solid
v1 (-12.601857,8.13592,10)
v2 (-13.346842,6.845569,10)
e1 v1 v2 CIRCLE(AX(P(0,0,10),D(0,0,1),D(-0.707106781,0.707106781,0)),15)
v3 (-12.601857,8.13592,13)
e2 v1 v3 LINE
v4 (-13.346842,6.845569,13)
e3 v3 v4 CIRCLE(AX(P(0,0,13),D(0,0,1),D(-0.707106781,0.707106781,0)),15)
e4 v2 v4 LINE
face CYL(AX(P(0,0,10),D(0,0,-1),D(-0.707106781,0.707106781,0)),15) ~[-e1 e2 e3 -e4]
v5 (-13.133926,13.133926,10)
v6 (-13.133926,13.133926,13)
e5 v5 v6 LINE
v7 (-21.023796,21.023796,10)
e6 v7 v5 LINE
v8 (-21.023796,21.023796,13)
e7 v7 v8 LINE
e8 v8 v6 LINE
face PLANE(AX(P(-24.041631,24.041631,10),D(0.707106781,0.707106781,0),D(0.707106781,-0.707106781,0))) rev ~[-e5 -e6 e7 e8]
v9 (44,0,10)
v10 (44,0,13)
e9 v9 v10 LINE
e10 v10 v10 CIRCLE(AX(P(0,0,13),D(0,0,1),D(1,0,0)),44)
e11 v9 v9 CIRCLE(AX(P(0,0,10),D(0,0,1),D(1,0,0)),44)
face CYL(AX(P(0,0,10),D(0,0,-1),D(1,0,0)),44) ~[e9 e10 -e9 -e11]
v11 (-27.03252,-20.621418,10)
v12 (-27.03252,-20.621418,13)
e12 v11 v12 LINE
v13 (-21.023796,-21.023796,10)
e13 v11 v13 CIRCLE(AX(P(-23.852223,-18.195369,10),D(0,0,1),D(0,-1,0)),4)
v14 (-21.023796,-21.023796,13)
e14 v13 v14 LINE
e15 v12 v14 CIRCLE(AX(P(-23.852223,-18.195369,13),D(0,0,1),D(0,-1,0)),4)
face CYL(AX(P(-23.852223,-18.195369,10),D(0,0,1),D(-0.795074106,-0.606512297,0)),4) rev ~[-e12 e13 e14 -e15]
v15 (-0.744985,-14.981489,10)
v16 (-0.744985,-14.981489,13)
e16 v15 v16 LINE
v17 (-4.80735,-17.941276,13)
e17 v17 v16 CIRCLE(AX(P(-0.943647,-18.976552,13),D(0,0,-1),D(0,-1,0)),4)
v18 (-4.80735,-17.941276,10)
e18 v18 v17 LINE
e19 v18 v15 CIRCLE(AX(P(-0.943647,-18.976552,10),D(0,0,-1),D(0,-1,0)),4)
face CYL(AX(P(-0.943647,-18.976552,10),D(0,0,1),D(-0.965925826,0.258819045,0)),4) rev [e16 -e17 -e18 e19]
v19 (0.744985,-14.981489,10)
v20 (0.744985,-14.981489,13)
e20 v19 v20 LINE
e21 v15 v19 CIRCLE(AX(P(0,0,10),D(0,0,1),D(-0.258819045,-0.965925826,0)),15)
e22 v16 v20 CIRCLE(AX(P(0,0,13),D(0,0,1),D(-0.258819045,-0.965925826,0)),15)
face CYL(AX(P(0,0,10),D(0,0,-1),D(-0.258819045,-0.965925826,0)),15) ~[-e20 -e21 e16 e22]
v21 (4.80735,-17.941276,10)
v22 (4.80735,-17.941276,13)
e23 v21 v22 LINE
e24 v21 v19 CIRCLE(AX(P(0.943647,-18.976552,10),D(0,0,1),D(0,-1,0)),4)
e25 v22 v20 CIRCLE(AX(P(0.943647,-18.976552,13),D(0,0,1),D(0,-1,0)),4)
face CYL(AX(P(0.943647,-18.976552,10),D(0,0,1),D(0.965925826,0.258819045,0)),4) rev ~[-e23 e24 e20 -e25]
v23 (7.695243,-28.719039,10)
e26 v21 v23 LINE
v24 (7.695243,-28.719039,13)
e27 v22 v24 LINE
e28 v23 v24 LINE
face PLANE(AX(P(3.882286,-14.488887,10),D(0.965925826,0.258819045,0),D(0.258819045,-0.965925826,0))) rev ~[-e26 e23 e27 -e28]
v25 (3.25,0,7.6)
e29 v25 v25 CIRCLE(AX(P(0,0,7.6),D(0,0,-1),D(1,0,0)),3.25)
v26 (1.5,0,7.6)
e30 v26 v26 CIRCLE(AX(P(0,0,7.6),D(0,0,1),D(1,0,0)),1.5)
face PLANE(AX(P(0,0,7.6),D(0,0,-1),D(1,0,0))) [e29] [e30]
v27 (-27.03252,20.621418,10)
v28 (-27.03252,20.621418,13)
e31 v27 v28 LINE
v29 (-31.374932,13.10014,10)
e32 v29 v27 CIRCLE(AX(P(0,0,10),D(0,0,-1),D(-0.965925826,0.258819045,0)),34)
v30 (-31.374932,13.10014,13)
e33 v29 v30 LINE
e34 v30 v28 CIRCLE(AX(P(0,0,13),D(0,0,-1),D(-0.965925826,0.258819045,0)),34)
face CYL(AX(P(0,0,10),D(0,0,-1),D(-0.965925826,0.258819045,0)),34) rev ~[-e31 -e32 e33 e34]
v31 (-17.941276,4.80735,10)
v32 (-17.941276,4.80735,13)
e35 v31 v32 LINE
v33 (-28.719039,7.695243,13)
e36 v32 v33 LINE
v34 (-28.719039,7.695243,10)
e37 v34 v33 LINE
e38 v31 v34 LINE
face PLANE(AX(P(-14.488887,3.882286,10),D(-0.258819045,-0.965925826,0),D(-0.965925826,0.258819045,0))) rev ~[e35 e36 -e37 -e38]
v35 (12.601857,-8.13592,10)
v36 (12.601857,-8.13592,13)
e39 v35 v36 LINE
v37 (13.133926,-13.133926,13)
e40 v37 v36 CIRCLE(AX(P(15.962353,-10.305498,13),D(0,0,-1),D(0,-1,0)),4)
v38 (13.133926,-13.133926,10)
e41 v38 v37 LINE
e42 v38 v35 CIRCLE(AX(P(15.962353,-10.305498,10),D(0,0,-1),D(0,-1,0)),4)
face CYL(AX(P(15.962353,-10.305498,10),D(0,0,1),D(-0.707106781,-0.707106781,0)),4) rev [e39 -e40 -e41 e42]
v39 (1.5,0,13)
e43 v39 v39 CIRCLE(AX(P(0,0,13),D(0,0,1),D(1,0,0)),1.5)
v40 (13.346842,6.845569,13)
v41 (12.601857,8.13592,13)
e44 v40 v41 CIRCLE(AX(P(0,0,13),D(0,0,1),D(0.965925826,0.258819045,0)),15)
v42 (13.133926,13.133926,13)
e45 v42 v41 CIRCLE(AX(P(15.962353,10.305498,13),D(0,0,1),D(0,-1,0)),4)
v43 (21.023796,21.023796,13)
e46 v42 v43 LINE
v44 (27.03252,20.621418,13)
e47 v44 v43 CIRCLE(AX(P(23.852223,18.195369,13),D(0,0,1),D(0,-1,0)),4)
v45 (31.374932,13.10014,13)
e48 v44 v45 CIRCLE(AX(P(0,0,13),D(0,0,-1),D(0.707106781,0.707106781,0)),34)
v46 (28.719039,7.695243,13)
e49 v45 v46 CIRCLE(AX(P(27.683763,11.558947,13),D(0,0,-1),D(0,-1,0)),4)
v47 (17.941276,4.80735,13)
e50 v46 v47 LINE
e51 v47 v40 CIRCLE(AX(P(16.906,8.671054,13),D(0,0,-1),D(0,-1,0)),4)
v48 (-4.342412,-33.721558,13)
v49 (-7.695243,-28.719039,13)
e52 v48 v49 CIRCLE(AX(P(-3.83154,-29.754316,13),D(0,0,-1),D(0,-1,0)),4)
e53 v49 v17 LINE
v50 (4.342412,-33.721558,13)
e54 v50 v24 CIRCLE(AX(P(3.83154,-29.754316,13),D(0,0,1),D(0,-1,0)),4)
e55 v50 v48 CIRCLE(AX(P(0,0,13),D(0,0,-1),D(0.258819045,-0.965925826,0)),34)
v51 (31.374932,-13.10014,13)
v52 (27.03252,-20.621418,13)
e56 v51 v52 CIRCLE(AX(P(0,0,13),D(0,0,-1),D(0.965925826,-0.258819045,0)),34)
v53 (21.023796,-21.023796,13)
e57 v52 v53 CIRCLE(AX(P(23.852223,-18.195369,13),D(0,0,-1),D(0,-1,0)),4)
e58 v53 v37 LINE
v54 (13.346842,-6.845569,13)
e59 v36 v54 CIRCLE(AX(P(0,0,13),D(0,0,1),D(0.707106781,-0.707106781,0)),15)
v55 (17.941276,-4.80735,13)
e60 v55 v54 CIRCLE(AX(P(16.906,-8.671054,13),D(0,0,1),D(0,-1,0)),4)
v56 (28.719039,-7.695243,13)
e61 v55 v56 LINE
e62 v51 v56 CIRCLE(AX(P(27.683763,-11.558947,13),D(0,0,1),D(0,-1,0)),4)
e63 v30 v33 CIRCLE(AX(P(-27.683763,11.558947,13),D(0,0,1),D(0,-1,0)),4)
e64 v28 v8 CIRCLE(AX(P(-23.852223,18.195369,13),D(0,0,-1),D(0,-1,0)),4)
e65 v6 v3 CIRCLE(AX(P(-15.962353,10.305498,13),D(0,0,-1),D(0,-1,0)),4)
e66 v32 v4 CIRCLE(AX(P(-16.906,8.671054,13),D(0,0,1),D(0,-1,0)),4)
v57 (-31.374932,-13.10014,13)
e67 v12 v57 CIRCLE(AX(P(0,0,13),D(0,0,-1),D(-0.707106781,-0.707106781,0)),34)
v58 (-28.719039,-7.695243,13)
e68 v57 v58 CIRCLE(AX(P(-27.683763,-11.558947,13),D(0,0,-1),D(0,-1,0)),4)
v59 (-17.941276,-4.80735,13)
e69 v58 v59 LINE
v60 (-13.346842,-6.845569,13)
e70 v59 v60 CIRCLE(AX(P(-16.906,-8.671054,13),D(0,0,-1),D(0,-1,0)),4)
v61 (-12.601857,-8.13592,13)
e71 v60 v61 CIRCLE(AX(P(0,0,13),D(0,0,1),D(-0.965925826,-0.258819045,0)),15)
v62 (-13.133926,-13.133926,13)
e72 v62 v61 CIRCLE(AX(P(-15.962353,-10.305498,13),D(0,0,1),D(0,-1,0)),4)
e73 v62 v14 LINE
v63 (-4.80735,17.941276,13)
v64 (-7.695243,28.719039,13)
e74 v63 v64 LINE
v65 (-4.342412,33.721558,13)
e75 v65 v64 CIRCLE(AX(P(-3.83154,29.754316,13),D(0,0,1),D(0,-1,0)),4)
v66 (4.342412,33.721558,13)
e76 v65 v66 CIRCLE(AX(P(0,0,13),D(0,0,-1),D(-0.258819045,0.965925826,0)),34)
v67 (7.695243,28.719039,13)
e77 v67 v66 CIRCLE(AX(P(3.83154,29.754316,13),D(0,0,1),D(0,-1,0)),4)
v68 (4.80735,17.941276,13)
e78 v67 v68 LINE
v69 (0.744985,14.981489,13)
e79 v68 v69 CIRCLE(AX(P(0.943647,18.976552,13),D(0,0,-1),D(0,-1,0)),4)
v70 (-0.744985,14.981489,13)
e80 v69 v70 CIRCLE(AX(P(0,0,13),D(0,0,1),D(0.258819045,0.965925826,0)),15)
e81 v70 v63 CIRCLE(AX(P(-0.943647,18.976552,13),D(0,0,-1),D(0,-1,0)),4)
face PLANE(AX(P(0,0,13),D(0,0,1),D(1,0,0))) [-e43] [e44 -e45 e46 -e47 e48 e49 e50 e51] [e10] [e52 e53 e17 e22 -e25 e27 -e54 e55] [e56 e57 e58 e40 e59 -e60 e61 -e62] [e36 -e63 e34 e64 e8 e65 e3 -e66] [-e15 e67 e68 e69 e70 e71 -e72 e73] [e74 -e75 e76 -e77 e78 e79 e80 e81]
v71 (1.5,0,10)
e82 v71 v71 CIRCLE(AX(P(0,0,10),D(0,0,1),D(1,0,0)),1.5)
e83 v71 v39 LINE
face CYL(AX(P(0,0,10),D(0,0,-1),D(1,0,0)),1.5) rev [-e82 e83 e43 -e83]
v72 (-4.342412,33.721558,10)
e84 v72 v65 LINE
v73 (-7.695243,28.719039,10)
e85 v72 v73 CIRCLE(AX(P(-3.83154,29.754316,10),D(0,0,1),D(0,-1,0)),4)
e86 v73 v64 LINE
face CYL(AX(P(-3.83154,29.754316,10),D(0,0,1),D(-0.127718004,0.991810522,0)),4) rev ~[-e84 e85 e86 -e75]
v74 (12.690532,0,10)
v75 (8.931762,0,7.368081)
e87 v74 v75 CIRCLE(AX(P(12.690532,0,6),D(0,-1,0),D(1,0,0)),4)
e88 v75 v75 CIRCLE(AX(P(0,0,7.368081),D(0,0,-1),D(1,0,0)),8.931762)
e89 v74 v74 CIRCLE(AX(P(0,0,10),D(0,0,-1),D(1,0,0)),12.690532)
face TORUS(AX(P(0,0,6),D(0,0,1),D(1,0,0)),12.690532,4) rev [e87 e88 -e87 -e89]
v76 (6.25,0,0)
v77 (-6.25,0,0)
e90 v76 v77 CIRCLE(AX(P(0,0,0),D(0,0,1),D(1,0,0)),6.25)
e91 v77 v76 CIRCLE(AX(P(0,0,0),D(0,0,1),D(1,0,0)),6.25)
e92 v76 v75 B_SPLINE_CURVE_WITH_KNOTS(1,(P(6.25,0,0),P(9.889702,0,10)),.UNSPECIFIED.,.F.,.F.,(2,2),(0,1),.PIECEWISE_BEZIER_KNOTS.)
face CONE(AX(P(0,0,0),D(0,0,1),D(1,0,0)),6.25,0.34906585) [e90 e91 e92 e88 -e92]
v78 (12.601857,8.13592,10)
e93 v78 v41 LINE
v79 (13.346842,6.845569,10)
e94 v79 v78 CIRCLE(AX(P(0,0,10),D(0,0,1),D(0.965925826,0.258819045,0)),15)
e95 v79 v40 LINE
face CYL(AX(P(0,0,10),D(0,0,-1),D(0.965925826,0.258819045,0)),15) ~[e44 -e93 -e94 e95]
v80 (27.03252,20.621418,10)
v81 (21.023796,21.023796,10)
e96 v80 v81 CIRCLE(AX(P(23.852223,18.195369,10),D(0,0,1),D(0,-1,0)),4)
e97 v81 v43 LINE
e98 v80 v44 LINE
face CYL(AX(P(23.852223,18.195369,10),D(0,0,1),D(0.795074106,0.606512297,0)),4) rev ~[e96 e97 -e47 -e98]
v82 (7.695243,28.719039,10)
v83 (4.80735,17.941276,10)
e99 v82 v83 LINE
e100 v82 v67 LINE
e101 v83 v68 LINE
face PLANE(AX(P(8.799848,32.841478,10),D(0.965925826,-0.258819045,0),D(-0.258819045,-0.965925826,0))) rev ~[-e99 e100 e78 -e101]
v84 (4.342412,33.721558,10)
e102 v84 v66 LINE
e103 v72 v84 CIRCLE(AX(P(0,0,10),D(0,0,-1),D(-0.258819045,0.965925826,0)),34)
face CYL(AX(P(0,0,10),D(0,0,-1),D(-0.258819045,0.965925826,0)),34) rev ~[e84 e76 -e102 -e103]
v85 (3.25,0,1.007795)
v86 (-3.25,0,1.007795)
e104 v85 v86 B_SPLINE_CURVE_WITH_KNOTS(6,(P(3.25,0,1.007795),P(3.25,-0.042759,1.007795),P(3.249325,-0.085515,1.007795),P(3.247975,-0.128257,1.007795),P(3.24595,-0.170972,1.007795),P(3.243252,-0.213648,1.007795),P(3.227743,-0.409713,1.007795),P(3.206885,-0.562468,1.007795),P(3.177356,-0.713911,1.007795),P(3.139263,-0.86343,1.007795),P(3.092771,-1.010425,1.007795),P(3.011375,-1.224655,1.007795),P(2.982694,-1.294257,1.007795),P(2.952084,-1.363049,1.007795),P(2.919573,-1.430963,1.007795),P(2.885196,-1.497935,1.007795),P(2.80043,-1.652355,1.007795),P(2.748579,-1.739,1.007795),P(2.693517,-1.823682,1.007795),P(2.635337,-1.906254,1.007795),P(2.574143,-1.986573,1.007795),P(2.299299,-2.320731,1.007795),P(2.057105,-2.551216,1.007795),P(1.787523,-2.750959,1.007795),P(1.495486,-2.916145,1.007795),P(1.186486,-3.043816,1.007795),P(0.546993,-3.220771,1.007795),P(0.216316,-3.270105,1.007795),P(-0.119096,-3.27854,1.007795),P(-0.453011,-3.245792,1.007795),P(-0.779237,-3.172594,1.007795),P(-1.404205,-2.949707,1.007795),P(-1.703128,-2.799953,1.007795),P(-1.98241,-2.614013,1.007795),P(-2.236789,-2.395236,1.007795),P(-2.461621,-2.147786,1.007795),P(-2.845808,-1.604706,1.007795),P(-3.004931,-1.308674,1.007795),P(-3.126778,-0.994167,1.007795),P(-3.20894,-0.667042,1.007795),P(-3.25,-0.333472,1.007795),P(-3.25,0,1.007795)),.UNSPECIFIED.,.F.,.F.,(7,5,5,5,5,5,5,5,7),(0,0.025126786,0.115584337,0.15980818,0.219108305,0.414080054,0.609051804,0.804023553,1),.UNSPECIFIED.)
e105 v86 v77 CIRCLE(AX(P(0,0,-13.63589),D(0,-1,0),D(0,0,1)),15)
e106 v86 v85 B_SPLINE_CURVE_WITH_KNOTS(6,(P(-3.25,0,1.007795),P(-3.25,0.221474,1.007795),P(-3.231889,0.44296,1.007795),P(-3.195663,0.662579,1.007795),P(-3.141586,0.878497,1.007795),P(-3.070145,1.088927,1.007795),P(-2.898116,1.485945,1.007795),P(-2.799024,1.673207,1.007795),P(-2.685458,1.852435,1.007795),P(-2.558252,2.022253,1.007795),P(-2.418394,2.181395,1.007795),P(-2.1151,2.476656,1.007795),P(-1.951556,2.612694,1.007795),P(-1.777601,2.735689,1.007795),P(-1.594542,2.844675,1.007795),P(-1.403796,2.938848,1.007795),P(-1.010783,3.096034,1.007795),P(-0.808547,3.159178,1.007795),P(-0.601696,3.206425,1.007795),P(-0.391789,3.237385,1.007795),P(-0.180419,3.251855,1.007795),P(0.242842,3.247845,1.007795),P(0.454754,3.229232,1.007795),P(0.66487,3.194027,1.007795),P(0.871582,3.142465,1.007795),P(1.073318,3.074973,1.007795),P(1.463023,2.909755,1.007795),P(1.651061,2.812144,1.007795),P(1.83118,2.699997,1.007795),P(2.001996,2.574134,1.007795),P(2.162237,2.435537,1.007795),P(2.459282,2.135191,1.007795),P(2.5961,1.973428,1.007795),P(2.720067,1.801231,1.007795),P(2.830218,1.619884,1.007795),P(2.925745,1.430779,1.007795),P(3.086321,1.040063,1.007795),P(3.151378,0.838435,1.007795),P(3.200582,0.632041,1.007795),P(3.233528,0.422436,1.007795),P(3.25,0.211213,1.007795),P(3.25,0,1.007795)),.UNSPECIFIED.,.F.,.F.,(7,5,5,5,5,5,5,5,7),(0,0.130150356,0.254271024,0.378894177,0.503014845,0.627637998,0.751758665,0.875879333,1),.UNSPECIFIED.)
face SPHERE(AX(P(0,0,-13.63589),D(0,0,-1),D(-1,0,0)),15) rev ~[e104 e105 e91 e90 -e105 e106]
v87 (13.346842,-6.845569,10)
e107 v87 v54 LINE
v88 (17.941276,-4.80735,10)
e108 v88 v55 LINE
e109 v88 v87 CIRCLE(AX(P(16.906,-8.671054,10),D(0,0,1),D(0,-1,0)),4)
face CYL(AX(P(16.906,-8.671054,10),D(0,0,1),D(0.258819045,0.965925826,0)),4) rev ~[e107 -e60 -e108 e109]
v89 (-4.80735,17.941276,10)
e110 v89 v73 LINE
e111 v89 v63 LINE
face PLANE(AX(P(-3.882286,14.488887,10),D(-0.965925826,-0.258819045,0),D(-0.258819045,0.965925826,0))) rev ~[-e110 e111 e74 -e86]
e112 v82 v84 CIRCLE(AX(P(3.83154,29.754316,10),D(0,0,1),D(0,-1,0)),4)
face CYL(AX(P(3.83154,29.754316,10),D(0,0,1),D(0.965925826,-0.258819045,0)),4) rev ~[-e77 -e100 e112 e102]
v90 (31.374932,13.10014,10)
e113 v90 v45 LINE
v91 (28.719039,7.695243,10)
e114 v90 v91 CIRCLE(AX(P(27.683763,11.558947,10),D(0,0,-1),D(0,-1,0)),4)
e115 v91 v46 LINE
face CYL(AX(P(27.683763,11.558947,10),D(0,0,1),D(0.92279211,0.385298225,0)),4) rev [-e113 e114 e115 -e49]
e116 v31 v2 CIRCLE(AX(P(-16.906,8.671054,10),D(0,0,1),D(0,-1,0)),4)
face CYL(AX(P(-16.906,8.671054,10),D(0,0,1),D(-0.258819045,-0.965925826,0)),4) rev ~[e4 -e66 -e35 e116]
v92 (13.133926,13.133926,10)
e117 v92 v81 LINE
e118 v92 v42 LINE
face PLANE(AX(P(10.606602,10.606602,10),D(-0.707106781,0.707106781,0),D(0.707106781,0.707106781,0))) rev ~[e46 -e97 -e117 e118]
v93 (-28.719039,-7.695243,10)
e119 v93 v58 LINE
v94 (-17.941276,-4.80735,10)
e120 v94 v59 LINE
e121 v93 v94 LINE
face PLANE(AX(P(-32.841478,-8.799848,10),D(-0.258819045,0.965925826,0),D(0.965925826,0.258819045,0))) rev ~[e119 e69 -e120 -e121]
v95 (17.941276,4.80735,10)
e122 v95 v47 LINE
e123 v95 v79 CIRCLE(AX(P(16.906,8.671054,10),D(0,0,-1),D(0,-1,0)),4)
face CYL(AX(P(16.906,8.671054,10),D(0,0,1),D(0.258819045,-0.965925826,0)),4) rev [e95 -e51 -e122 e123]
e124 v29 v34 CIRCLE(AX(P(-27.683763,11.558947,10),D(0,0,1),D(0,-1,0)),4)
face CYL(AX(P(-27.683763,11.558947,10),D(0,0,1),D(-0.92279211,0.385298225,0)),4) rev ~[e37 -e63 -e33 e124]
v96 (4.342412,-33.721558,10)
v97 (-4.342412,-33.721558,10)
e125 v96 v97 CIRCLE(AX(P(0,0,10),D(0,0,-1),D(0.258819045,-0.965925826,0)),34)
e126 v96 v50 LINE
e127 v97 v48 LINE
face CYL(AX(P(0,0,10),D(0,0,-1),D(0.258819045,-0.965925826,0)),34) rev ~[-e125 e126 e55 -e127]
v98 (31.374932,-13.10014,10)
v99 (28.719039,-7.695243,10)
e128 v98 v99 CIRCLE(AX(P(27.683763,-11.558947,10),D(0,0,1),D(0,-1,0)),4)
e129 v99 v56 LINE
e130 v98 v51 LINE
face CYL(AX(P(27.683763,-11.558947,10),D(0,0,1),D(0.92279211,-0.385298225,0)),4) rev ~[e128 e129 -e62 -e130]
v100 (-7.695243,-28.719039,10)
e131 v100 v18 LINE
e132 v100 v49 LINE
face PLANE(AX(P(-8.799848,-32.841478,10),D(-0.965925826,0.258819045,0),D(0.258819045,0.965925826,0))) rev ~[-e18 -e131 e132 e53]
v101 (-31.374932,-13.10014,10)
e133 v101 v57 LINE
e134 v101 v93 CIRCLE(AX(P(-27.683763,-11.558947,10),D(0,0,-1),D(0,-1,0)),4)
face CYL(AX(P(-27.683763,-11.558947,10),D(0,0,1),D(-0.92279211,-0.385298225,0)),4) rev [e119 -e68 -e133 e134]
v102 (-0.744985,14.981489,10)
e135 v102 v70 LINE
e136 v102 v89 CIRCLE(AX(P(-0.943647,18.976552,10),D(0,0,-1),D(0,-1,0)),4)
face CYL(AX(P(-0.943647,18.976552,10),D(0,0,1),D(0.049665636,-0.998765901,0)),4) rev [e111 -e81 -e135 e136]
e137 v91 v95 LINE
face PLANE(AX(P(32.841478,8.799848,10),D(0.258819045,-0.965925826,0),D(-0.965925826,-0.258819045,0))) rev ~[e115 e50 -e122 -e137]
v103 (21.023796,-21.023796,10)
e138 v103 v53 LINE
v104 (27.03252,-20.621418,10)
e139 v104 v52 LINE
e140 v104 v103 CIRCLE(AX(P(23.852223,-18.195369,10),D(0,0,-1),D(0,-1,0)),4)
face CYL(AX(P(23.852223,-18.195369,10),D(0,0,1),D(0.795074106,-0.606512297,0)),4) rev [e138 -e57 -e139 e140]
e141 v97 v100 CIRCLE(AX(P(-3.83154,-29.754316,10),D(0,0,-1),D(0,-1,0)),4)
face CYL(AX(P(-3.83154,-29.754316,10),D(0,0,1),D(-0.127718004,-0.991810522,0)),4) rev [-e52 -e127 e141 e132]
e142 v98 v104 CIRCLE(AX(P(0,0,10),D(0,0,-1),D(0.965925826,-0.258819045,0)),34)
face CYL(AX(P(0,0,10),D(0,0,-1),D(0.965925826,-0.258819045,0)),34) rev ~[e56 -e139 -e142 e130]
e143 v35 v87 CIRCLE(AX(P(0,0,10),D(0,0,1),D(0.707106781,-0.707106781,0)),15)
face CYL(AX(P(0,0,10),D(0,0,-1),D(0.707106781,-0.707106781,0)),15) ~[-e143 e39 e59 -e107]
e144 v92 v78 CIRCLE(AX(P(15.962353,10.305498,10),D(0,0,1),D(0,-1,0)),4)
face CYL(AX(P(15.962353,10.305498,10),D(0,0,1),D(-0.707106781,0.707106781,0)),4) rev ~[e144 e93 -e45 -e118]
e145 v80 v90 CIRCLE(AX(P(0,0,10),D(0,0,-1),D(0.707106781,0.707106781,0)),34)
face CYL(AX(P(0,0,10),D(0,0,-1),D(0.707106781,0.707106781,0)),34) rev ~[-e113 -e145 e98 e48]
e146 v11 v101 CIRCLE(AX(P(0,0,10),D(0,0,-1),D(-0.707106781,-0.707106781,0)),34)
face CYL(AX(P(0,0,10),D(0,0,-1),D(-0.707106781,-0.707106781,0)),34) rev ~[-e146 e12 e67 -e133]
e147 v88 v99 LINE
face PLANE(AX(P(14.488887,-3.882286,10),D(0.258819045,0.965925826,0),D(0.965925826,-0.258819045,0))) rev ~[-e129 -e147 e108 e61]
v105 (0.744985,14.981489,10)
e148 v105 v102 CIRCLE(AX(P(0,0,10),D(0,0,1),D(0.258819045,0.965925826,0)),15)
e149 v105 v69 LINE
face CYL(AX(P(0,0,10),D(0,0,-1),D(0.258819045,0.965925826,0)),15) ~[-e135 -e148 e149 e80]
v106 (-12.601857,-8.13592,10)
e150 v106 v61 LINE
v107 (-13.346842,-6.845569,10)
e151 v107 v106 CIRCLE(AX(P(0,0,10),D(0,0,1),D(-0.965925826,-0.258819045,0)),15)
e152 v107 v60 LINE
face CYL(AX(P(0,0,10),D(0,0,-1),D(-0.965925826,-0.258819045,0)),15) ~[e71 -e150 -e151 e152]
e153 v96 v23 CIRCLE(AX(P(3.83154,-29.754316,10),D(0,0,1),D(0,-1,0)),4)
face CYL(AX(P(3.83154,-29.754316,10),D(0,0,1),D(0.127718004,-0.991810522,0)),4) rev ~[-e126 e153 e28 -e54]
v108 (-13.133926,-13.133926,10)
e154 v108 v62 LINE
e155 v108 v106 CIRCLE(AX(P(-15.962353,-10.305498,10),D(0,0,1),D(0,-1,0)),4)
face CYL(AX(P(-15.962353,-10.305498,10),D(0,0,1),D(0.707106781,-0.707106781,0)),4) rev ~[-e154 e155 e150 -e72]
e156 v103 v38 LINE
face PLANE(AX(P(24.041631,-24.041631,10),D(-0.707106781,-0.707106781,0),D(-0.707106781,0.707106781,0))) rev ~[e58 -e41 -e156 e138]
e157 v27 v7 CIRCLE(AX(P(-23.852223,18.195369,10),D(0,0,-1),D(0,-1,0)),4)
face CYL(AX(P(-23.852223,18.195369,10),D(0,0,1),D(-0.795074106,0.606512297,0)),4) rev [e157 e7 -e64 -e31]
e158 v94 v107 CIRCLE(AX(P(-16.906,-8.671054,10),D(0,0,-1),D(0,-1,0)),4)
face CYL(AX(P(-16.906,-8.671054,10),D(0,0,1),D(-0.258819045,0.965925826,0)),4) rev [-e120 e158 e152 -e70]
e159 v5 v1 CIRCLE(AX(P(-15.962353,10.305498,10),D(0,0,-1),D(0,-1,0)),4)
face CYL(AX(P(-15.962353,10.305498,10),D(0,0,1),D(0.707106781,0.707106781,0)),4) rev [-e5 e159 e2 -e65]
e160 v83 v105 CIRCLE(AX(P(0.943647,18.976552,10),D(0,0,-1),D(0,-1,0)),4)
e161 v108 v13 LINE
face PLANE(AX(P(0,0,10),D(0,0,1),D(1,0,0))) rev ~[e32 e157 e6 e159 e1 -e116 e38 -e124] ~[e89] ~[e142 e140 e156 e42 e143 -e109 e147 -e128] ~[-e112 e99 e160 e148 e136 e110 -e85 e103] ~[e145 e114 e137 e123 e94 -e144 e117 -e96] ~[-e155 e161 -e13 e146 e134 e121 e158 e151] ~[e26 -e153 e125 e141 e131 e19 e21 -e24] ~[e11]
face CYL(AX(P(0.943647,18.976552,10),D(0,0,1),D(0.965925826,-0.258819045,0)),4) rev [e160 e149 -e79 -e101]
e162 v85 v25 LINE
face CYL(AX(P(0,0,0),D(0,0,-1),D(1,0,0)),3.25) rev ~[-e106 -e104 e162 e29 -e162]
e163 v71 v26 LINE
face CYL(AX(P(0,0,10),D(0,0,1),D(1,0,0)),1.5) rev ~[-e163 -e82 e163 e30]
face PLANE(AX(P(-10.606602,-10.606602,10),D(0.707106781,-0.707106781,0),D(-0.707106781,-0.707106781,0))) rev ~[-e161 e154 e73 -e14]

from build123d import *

# Parameters (mm, degrees)
F0_R     = 6.25
F1_DEPTH = 10
F1_TAPER = -20
F2_R     = 3.25
F3_DEPTH = 7.6
F6_R     = 44
F6_R_2   = 9.8897023427
F6_R_3   = 1.5
F7_DEPTH = 3
F8_R     = 4
F9_DEPTH = 25


with BuildPart() as f1:
    # F0 (on Top) → F1 (new body)
    with BuildSketch(Plane.XY):
        Circle(F0_R)
    extrude(amount=F1_DEPTH, taper=F1_TAPER)

    # F2 (on face) → F3 (cut)
    with BuildSketch(Plane(origin=(0, 0, 0), x_dir=(1, 0, 0), z_dir=(0, 0, -1))):
        Circle(F2_R)
    extrude(amount=-F3_DEPTH, mode=Mode.SUBTRACT)

    # F4 (on Front) → F5 (revolve, cut)
    with BuildSketch(Plane.XZ):
        with BuildLine():
            Line((0, 0), (0, 1.3641098567))
            ThreePointArc((0, 1.3641098567), (-3.198565917, 1.0191150111), (-6.25, 0))
            Line((-6.25, 0), (0, 0))
        make_face()
    revolve(axis=Axis((0, 0, -13.6358901433), (0, 0, -1)), mode=Mode.SUBTRACT)

    # F6 (on face) → F7 (join)
    with BuildSketch(Plane.XY.offset(10)):
        Circle(F6_R)
        with BuildLine():
            Line((-32.8414780938, -8.7998475335), (-14.4888873943, -3.8822856765))
            ThreePointArc((-14.4888873943, -3.8822856765), (-12.9903810568, -7.5), (-10.6066017178, -10.6066017178))
            Line((-10.6066017178, -10.6066017178), (-24.0416305603, -24.0416305603))
            ThreePointArc((-24.0416305603, -24.0416305603), (-29.4448637287, -17), (-32.8414780938, -8.7998475335))
        make_face(mode=Mode.SUBTRACT)
        with BuildLine():
            Line((-8.7998475335, -32.8414780938), (-3.8822856765, -14.4888873943))
            ThreePointArc((-3.8822856765, -14.4888873943), (0, -15), (3.8822856765, -14.4888873943))
            Line((3.8822856765, -14.4888873943), (8.7998475335, -32.8414780938))
            ThreePointArc((8.7998475335, -32.8414780938), (0, -34), (-8.7998475335, -32.8414780938))
        make_face(mode=Mode.SUBTRACT)
        with BuildLine():
            Line((24.0416305603, -24.0416305603), (10.6066017178, -10.6066017178))
            ThreePointArc((10.6066017178, -10.6066017178), (12.9903810568, -7.5), (14.4888873943, -3.8822856765))
            Line((14.4888873943, -3.8822856765), (32.8414780938, -8.7998475335))
            ThreePointArc((32.8414780938, -8.7998475335), (29.4448637287, -17), (24.0416305603, -24.0416305603))
        make_face(mode=Mode.SUBTRACT)
        with BuildLine():
            Line((-24.0416305603, 24.0416305603), (-10.6066017178, 10.6066017178))
            ThreePointArc((-10.6066017178, 10.6066017178), (-12.9903810568, 7.5), (-14.4888873943, 3.8822856765))
            Line((-14.4888873943, 3.8822856765), (-32.8414780938, 8.7998475335))
            ThreePointArc((-32.8414780938, 8.7998475335), (-29.4448637287, 17), (-24.0416305603, 24.0416305603))
        make_face(mode=Mode.SUBTRACT)
        Circle(F6_R_2, mode=Mode.SUBTRACT)
        with BuildLine():
            Line((32.8414780938, 8.7998475335), (14.4888873943, 3.8822856765))
            ThreePointArc((14.4888873943, 3.8822856765), (12.9903810568, 7.5), (10.6066017178, 10.6066017178))
            Line((10.6066017178, 10.6066017178), (24.0416305603, 24.0416305603))
            ThreePointArc((24.0416305603, 24.0416305603), (29.4448637287, 17), (32.8414780938, 8.7998475335))
        make_face(mode=Mode.SUBTRACT)
        with BuildLine():
            ThreePointArc((3.8822856765, 14.4888873943), (0, 15), (-3.8822856765, 14.4888873943))
            Line((-3.8822856765, 14.4888873943), (-8.7998475335, 32.8414780938))
            ThreePointArc((-8.7998475335, 32.8414780938), (0, 34), (8.7998475335, 32.8414780938))
            Line((8.7998475335, 32.8414780938), (3.8822856765, 14.4888873943))
        make_face(mode=Mode.SUBTRACT)
        Circle(F6_R_2)
        Circle(F6_R_3, mode=Mode.SUBTRACT)
    extrude(amount=F7_DEPTH)

    # F8
    f8_edges = [f1.edges().sort_by_distance(p)[0] for p in [
        (-9.889702, 0, 10),
        (-10.606602, -10.606602, 11.5),
        (-14.488887, -3.882286, 11.5),
        (-32.841478, -8.799848, 11.5),
        (-24.041631, -24.041631, 11.5),
        (8.799848, -32.841478, 11.5),
        (3.882286, -14.488887, 11.5),
        (-8.799848, 32.841478, 11.5),
        (-24.041631, 24.041631, 11.5),
        (-10.606602, 10.606602, 11.5),
        (32.841478, -8.799848, 11.5),
        (14.488887, -3.882286, 11.5),
        (10.606602, 10.606602, 11.5),
        (-3.882286, -14.488887, 11.5),
        (10.606602, -10.606602, 11.5),
        (24.041631, -24.041631, 11.5),
        (32.841478, 8.799848, 11.5),
        (14.488887, 3.882286, 11.5),
        (3.882286, 14.488887, 11.5),
        (-8.799848, -32.841478, 11.5),
        (-32.841478, 8.799848, 11.5),
        (-14.488887, 3.882286, 11.5),
        (-3.882286, 14.488887, 11.5),
        (8.799848, 32.841478, 11.5),
        (24.041631, 24.041631, 11.5),
    ]]
    fillet(f8_edges, radius=F8_R)

    # F9 (cut): a face of the model
    f9_faces = [f1.faces().sort_by_distance(p)[0] for p in [
        (0, 0, 10),
    ]]
    extrude(f9_faces, amount=-F9_DEPTH, mode=Mode.SUBTRACT)


solid = f1.part
